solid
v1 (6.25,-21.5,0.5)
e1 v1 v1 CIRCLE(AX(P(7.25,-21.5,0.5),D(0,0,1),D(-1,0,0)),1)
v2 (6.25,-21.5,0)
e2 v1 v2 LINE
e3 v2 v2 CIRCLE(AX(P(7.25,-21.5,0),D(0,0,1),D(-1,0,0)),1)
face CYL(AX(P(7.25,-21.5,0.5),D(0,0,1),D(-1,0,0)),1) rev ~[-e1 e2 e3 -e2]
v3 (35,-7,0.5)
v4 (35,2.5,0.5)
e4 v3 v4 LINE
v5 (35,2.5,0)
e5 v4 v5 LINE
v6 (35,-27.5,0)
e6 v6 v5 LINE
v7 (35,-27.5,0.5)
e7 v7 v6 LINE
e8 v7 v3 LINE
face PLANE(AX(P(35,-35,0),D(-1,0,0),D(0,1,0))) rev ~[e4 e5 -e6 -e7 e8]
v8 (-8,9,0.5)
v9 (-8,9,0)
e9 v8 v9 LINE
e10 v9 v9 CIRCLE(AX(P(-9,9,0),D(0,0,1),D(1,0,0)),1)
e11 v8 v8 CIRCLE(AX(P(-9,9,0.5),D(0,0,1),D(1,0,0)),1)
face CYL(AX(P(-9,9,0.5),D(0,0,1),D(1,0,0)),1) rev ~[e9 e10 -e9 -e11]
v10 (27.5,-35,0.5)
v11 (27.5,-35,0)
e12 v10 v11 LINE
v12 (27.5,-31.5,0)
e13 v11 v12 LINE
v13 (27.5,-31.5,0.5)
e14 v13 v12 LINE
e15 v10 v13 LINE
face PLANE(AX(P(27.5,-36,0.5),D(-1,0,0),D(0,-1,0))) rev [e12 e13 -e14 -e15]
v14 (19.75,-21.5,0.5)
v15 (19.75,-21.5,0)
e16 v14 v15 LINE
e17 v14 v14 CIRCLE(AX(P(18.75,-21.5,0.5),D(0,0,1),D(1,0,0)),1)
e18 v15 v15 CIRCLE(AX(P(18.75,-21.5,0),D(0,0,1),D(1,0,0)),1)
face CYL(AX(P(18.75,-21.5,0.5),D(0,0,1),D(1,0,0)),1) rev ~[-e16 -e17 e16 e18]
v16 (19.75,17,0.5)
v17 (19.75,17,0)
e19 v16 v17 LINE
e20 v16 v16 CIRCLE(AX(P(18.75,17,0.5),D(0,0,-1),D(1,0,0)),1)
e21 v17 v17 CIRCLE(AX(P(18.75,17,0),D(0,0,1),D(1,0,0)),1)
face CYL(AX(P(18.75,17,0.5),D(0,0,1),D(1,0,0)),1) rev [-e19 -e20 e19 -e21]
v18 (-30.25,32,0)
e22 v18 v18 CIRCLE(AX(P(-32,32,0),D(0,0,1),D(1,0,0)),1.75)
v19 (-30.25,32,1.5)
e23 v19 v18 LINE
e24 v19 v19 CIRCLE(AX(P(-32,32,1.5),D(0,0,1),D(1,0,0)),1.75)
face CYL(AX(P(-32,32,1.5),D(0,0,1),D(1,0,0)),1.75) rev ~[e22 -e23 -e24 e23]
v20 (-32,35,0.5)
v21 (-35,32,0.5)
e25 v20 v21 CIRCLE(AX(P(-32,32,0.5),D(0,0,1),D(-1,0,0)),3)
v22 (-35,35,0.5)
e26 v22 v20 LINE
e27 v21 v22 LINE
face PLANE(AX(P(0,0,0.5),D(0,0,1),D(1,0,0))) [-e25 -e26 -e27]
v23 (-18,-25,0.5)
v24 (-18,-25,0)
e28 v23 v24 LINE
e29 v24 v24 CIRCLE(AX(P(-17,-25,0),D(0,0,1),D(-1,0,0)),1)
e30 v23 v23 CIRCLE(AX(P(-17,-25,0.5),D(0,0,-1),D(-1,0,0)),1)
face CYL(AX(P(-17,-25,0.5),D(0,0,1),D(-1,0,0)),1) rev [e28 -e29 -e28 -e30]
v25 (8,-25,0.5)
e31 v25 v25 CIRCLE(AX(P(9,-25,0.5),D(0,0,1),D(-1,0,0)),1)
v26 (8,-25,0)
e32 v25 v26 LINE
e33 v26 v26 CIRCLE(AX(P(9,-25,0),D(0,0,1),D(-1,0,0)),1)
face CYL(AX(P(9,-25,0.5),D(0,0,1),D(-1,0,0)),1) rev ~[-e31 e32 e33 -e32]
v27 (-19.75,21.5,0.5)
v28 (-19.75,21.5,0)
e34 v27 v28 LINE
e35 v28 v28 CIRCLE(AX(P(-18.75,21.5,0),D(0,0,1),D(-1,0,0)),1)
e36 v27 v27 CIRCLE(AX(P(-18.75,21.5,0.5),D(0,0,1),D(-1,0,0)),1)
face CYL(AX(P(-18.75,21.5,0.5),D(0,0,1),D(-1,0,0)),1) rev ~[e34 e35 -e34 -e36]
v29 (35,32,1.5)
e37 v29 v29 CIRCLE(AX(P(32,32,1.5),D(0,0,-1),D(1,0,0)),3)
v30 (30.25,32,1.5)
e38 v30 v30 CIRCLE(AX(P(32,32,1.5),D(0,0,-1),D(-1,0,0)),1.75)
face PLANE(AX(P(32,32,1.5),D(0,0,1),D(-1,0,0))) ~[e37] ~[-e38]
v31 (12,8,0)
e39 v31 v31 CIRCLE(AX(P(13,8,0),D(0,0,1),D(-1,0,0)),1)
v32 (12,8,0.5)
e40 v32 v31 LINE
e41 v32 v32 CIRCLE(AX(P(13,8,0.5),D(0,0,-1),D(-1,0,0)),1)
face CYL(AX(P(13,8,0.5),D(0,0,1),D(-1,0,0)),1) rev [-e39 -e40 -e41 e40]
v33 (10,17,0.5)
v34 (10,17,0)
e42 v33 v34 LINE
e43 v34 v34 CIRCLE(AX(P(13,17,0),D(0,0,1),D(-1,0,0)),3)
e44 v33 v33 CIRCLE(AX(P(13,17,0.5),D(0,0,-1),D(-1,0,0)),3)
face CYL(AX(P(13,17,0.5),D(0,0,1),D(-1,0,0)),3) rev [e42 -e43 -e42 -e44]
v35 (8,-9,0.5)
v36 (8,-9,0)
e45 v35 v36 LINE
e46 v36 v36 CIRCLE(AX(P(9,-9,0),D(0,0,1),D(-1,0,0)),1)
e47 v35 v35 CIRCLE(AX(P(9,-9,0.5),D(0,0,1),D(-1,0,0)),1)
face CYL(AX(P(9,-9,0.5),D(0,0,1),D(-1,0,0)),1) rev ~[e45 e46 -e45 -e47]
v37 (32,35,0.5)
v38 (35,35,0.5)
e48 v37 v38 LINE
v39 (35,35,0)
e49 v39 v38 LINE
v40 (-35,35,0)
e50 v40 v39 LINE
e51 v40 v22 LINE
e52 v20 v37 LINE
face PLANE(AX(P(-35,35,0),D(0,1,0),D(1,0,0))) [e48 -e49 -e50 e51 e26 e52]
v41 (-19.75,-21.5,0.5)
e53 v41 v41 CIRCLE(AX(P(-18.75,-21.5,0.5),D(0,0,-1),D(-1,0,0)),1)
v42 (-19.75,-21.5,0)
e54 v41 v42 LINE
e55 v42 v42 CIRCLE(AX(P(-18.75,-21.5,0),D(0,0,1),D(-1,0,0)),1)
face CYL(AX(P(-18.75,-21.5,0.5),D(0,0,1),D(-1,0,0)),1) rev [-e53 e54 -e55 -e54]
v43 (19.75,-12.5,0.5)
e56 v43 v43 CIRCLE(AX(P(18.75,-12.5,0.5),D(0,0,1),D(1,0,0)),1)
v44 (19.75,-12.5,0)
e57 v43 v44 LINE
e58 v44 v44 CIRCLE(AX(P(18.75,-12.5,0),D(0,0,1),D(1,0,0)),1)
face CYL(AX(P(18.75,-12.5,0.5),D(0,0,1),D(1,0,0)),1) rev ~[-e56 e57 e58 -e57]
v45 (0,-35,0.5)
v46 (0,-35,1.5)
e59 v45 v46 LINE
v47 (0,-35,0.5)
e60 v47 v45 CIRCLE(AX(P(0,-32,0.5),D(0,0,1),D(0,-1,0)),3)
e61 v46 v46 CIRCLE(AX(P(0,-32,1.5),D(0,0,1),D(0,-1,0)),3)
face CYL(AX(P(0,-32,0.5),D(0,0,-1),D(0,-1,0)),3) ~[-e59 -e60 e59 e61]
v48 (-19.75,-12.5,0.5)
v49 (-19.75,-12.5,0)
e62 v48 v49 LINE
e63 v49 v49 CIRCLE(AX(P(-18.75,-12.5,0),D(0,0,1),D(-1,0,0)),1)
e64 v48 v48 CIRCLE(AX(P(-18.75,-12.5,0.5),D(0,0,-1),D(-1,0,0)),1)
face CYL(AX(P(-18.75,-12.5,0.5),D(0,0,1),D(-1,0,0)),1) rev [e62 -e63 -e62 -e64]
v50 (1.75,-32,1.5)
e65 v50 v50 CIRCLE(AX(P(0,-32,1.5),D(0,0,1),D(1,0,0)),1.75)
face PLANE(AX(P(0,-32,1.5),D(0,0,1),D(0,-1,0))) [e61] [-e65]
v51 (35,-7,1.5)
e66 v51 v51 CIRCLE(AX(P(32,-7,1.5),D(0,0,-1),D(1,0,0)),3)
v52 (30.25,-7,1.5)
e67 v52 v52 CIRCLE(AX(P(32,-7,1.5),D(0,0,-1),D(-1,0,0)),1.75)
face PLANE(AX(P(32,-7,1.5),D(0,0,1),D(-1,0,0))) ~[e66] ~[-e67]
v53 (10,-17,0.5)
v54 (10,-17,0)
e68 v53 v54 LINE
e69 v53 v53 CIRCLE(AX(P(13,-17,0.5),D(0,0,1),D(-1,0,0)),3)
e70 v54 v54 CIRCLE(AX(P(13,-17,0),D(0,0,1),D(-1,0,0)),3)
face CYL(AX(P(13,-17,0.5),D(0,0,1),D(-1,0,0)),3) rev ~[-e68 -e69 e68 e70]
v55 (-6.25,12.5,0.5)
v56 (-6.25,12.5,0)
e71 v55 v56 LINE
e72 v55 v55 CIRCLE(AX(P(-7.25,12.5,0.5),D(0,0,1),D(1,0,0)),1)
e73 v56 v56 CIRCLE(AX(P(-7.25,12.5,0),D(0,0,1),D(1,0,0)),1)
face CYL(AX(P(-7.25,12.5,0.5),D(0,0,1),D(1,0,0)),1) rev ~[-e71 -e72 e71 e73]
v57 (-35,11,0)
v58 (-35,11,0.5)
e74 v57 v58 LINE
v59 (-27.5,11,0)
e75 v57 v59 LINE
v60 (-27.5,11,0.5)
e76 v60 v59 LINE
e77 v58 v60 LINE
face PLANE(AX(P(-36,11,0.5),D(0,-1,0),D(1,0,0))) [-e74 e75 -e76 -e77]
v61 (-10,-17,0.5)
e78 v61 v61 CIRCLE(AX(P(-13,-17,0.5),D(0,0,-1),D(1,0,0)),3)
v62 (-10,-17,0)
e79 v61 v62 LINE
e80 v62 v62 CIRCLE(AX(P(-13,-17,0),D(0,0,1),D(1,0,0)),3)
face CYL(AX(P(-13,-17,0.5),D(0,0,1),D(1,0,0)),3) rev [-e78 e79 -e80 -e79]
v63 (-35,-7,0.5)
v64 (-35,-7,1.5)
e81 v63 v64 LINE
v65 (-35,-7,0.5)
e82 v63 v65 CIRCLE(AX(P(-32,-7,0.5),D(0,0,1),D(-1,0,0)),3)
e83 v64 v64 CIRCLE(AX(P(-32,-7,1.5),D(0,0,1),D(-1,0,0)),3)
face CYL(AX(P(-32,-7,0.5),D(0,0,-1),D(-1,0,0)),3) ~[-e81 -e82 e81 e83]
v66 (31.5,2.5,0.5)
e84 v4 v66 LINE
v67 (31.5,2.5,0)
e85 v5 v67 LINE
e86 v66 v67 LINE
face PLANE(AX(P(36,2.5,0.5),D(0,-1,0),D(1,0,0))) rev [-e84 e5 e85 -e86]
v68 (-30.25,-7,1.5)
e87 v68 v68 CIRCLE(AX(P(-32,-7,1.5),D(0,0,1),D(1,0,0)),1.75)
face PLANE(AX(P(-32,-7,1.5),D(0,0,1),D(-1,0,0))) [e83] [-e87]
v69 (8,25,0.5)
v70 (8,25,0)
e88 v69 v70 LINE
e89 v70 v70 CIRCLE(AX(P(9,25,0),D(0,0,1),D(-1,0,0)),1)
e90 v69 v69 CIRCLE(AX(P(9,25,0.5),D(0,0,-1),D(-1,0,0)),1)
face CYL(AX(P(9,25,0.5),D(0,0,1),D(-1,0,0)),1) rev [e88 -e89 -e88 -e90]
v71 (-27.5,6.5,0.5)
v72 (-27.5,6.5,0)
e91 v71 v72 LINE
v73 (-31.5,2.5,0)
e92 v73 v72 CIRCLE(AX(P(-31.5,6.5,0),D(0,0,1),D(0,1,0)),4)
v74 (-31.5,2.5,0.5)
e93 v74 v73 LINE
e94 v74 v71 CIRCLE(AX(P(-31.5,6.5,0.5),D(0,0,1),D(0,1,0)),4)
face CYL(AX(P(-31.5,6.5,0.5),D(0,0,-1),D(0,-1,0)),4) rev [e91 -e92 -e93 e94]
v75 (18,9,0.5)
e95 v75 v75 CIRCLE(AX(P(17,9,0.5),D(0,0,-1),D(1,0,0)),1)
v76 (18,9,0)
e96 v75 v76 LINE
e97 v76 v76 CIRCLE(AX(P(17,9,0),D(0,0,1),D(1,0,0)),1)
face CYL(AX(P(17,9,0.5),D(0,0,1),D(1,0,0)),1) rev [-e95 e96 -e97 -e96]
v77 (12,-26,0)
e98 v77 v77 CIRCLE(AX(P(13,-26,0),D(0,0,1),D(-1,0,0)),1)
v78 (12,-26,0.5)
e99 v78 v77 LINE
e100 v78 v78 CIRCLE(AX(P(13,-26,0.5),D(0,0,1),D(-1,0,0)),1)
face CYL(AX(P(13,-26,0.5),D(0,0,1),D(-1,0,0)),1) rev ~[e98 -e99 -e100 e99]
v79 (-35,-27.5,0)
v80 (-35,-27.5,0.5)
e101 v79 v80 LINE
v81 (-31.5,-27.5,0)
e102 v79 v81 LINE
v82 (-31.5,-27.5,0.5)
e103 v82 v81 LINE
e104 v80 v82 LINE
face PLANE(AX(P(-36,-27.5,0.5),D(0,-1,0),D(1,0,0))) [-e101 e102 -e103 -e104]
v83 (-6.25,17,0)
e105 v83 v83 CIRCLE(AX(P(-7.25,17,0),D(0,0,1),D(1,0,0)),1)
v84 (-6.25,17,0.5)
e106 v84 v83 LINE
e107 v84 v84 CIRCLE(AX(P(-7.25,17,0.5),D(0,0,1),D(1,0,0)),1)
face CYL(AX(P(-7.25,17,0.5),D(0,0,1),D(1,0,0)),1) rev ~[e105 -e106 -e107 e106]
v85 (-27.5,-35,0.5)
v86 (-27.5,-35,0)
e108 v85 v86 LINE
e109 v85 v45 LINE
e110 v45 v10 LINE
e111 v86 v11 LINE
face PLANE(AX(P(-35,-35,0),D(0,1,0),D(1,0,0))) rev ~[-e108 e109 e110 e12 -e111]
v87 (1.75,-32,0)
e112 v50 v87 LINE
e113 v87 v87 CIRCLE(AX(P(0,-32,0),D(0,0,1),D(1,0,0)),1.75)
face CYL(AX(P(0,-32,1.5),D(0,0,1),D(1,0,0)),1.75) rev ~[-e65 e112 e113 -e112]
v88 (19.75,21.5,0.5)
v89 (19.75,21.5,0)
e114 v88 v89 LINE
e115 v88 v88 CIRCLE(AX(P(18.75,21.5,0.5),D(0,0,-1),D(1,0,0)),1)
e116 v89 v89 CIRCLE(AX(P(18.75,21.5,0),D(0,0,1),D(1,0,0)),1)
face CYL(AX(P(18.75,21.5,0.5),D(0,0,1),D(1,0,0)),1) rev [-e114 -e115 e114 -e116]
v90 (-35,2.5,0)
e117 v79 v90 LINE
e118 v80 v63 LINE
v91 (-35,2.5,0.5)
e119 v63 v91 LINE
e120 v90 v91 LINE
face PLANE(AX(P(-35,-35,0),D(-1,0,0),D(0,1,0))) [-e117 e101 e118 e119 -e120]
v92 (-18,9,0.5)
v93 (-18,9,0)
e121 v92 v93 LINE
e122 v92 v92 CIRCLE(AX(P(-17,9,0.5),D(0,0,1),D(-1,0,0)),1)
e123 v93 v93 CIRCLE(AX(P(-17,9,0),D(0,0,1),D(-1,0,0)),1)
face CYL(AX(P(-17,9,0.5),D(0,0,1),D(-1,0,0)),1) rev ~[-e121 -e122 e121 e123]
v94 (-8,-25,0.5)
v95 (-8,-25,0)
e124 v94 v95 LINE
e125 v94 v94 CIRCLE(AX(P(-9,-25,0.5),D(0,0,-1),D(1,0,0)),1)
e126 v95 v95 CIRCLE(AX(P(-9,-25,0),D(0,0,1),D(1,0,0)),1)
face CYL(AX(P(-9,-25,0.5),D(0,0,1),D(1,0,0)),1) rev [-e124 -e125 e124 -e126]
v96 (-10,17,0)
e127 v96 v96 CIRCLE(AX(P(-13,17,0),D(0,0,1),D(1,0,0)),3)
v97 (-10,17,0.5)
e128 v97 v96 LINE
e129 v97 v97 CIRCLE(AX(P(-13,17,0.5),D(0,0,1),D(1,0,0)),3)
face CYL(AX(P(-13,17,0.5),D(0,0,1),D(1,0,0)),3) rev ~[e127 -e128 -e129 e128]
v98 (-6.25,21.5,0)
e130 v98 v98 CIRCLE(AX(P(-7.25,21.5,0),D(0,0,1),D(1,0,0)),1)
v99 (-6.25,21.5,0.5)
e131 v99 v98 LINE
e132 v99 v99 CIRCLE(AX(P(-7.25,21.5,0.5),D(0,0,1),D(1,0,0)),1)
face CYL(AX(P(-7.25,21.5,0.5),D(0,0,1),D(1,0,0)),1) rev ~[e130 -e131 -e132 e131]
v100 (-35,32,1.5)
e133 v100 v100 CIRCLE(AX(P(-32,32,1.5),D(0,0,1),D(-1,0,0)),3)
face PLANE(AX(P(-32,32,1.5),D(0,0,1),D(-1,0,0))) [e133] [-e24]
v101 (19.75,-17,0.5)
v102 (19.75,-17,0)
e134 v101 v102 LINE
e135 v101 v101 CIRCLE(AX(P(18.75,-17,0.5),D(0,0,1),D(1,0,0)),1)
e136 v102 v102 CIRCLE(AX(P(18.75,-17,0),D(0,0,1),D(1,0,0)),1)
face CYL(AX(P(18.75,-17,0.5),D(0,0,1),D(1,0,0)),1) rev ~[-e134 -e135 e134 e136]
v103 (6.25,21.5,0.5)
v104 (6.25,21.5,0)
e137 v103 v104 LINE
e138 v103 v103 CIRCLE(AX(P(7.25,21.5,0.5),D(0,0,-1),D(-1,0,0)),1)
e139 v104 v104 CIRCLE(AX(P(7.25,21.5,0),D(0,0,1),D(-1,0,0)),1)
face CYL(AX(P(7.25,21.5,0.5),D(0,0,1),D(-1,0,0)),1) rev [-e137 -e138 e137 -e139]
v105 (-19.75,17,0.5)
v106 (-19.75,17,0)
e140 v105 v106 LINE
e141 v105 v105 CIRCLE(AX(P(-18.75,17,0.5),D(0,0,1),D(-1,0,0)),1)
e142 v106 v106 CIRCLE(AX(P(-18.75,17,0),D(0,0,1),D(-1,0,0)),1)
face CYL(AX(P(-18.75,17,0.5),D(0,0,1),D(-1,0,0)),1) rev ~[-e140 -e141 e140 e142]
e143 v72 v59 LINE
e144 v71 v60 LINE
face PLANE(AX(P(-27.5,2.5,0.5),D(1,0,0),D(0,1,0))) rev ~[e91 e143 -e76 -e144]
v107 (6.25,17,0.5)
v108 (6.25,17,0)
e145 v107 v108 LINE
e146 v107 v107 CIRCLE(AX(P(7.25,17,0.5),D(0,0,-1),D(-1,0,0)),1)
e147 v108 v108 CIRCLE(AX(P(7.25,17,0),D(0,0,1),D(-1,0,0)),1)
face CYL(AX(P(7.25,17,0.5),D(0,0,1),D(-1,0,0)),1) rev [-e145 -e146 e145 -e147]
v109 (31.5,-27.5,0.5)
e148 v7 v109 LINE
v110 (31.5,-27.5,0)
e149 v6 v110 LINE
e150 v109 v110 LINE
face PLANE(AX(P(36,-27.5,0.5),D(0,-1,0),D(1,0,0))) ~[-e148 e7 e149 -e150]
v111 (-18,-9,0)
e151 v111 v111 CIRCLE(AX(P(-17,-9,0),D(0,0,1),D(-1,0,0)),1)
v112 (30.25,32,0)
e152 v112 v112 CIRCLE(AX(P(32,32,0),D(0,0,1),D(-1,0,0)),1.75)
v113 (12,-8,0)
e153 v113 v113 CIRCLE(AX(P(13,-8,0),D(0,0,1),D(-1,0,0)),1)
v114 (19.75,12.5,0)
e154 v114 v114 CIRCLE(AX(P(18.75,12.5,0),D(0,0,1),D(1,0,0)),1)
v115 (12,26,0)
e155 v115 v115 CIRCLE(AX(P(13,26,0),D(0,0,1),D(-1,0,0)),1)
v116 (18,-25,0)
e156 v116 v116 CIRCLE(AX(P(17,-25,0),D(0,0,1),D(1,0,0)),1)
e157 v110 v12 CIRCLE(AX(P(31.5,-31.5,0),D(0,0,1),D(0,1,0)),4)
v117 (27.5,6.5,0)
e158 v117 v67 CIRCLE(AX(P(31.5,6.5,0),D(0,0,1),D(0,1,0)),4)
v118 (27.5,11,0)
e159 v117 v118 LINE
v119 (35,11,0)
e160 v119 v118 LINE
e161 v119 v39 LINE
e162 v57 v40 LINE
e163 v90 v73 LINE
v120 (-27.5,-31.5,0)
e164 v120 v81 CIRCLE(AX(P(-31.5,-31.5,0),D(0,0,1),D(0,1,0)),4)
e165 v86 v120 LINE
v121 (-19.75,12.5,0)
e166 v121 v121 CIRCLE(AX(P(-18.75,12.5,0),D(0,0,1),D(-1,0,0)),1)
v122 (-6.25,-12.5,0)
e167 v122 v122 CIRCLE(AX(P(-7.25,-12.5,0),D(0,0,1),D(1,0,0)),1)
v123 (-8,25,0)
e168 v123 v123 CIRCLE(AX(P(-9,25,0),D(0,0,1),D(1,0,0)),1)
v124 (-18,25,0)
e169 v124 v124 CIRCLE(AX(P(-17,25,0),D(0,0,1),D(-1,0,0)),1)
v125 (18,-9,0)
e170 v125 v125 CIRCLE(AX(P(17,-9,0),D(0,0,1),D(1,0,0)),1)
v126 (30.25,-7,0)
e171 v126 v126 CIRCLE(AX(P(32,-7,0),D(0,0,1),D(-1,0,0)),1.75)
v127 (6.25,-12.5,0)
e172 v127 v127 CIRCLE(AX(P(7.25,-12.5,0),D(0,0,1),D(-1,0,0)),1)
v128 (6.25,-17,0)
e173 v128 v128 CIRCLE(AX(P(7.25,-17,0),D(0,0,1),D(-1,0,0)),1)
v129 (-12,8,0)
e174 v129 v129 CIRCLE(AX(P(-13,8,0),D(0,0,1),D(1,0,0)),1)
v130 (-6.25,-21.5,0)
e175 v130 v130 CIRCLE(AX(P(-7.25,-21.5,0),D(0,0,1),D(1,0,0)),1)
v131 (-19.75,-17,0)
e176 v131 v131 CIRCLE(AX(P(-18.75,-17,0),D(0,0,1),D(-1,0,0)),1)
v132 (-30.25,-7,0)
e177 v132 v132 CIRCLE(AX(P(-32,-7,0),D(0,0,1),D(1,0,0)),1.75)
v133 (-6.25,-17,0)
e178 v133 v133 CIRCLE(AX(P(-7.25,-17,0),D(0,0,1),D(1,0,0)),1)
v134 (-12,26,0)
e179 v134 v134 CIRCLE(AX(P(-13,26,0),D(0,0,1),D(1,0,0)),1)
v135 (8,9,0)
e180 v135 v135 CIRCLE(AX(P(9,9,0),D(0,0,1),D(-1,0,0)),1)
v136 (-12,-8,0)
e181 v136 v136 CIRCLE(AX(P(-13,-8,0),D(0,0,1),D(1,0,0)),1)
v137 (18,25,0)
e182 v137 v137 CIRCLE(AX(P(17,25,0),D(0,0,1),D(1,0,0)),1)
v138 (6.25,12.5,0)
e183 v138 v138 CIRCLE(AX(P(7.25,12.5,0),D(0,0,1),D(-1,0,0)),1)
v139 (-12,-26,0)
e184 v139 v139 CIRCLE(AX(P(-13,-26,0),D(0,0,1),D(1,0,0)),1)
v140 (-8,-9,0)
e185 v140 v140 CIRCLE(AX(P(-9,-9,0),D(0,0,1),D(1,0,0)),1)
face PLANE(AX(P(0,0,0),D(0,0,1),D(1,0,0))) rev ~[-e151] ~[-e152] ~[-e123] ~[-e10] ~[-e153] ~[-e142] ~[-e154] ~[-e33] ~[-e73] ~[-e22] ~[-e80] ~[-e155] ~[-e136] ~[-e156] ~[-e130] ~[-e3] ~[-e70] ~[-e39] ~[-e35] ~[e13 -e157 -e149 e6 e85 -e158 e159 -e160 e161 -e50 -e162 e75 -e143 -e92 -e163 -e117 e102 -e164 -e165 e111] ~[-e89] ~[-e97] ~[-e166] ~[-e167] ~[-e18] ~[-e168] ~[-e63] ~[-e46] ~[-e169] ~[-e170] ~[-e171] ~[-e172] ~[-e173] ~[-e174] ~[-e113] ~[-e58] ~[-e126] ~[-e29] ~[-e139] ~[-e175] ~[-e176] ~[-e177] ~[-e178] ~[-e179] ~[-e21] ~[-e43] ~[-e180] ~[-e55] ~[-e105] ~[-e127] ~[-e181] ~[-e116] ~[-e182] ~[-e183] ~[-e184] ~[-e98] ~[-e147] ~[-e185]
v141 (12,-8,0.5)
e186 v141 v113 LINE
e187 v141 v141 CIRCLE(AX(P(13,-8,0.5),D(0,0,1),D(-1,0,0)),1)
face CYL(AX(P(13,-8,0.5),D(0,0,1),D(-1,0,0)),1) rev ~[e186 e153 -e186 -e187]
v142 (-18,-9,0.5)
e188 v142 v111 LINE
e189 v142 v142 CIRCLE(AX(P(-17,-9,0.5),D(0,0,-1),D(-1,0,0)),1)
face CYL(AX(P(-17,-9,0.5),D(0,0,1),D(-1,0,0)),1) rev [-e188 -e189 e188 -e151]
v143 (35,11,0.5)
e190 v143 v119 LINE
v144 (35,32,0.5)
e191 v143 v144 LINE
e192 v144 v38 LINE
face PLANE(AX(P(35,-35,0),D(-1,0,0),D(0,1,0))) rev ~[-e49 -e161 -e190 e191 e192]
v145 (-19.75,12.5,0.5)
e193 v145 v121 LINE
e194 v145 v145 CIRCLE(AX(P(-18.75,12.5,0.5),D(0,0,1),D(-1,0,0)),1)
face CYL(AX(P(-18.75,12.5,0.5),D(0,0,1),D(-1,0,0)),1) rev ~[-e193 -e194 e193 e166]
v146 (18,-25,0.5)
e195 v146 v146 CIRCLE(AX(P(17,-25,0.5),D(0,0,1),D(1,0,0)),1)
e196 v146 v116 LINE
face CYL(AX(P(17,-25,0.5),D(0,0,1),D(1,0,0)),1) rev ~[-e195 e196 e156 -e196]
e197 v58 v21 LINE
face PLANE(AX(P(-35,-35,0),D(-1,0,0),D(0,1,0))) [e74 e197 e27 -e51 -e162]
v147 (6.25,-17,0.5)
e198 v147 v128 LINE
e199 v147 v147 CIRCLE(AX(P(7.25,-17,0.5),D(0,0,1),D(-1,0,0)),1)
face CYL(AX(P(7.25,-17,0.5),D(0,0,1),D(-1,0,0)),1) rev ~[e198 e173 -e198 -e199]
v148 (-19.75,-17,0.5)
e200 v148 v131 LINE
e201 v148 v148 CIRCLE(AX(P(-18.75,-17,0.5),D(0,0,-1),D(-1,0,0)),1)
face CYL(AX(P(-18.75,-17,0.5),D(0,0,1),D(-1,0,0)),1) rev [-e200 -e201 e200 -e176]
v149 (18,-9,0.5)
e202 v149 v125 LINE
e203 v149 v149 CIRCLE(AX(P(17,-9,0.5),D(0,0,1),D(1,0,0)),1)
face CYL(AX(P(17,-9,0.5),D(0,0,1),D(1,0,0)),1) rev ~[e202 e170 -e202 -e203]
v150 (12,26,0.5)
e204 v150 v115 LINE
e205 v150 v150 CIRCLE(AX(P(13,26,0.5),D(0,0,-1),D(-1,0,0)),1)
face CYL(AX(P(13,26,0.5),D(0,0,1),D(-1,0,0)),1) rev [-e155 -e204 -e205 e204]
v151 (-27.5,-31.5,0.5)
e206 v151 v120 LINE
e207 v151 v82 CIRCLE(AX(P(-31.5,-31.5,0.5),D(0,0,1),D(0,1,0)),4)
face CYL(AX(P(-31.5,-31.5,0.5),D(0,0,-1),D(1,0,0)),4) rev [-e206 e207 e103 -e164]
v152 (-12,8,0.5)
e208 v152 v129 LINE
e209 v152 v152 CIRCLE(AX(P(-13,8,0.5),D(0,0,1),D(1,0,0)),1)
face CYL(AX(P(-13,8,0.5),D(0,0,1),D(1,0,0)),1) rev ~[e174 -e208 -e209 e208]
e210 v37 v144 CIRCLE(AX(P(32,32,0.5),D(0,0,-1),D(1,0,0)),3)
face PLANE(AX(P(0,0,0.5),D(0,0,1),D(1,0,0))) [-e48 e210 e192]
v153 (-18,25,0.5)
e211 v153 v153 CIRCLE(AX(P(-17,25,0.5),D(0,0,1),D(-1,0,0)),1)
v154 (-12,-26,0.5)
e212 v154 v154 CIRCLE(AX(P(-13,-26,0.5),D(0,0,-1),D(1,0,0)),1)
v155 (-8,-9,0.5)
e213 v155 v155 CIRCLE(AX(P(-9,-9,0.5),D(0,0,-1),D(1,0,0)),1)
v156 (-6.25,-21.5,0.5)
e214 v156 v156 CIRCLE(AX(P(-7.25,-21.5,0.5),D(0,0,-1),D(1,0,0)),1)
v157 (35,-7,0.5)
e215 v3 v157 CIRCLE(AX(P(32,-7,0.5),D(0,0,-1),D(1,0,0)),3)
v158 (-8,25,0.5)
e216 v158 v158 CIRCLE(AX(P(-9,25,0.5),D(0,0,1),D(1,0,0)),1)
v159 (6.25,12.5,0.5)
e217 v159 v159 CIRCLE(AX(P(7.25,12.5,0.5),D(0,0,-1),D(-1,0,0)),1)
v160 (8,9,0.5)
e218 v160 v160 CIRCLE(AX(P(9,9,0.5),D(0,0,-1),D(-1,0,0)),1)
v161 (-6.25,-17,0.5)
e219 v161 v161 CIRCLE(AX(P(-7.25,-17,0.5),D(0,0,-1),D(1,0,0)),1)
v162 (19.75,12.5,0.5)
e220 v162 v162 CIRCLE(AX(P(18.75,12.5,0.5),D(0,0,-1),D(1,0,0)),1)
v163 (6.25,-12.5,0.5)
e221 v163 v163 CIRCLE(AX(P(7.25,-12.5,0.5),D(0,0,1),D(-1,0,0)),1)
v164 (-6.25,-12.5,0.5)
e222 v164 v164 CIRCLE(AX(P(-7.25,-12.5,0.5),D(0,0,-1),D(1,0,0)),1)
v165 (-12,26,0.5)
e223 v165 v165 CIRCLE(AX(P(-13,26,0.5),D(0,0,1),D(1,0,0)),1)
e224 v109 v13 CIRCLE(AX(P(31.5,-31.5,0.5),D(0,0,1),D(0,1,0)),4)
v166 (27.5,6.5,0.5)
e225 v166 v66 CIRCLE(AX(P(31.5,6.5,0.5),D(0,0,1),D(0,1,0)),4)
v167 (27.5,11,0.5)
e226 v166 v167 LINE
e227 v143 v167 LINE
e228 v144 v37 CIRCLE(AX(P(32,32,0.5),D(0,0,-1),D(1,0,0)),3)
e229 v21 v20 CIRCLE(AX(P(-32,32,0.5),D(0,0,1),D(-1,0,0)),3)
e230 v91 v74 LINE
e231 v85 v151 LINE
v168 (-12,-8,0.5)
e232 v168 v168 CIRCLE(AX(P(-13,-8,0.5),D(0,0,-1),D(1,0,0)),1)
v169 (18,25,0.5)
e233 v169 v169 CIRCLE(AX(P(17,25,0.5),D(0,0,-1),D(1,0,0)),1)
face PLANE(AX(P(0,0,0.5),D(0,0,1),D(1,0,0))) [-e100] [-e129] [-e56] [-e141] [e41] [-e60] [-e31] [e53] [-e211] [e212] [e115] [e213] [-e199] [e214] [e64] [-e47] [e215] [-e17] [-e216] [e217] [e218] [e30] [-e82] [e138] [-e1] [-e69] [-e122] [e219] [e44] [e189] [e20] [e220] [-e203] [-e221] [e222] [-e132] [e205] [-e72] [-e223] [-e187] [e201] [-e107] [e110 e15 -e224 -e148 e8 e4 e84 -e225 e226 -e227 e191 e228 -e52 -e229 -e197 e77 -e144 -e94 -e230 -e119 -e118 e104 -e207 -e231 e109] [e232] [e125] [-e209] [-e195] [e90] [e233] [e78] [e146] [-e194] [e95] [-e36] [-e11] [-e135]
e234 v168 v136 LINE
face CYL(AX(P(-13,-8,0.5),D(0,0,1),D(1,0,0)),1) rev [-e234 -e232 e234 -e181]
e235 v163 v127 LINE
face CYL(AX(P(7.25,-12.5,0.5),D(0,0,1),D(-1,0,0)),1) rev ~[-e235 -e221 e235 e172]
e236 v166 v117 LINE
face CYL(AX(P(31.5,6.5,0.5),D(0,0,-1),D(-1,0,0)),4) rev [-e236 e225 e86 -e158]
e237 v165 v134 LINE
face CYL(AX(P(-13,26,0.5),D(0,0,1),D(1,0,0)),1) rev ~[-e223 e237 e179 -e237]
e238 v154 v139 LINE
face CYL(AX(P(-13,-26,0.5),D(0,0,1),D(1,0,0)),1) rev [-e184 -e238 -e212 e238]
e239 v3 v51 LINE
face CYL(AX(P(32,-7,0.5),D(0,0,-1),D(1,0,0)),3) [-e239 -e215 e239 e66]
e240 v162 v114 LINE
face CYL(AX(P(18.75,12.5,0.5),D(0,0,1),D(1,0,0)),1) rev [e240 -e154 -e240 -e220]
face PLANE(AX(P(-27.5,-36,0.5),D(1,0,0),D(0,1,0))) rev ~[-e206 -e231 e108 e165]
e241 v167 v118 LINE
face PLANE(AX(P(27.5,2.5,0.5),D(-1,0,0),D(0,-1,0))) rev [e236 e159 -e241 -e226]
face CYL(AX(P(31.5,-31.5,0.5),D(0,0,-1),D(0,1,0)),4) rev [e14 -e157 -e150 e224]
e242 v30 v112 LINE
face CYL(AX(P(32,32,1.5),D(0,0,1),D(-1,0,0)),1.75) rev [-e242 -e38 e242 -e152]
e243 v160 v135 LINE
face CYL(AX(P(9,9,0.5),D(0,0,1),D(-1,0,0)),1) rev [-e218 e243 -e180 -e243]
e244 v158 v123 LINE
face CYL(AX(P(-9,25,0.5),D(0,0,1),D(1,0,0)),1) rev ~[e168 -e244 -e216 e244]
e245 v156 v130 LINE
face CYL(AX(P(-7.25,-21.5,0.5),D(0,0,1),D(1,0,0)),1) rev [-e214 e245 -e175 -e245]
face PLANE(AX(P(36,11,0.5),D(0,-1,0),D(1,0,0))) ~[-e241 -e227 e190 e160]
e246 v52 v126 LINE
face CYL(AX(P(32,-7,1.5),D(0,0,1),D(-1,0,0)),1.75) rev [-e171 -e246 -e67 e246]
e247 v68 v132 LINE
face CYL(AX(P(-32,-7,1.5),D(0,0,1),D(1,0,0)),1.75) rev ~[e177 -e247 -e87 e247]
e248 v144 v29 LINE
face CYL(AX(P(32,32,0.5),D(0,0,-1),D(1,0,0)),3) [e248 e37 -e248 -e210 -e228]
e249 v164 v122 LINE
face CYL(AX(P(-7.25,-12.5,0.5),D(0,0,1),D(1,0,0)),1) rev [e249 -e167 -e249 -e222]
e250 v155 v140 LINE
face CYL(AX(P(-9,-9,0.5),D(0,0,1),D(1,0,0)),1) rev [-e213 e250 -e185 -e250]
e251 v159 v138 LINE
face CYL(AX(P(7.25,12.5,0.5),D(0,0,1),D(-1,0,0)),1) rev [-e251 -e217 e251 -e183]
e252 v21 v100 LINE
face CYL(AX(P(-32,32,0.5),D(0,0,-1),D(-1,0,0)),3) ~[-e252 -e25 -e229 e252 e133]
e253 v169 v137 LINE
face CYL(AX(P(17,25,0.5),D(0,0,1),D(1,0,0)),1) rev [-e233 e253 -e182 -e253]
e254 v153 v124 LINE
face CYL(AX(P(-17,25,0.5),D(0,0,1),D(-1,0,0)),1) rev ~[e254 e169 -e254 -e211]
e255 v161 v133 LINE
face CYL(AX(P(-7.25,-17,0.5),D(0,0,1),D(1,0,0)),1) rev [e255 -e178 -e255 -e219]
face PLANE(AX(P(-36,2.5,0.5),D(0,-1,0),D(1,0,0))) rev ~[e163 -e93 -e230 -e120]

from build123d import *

# Parameters (mm, degrees)
SKETCH1_W               = 70
SKETCH1_H               = 70
BOSS_EXTRUDE1_DEPTH     = 0.5
SKETCH2_R               = 3
CUT_EXTRUDE1_DEPTH      = 50.5
SKETCH3_R               = 1
CUT_EXTRUDE2_DEPTH      = 50.5
MIRROR2_COPY_1_SKETCH_R = 3
MIRROR2_COPY_1_DEPTH    = 50.5
MIRROR2_COPY_2_SKETCH_R = 1
MIRROR2_COPY_2_DEPTH    = 50.5
SKETCH4_R               = 3
BOSS_EXTRUDE2_DEPTH     = 1
SKETCH5_R               = 1.75
CUT_EXTRUDE3_DEPTH      = 50.520197899
SKETCH6_W               = 8.5
SKETCH6_H               = 8.5
CUT_EXTRUDE4_DEPTH      = 50.507575178
FILLET1_R               = 4
SKETCH7_R               = 3
BOSS_EXTRUDE3_DEPTH     = 1
SKETCH8_R               = 1.75
CUT_EXTRUDE5_DEPTH      = 50.520197899
FILLET1_OF_MIRROR3_R    = 4


with BuildPart() as part:
    # Sketch1 → Boss-Extrude1 (new body)
    with BuildSketch(Plane.XY):
        Rectangle(SKETCH1_W, SKETCH1_H)
    extrude(amount=BOSS_EXTRUDE1_DEPTH)

    # Sketch2 → Cut-Extrude1 (cut, through all)
    with BuildSketch(Plane.XY.offset(0.5)):
        with Locations((-13, 17)):
            Circle(SKETCH2_R)
    cut_extrude1 = extrude(amount=-CUT_EXTRUDE1_DEPTH, mode=Mode.SUBTRACT)

    # Sketch3 → Cut-Extrude2 (cut, through all)
    with BuildSketch(Plane.XY.offset(0.5)):
        with Locations((-7.25, 21.5)):
            Circle(SKETCH3_R)
        with Locations((-7.25, 17)):
            Circle(SKETCH3_R)
        with Locations((-7.25, 12.5)):
            Circle(SKETCH3_R)
        with Locations((-9, 9)):
            Circle(SKETCH3_R)
        with Locations((-9, 25)):
            Circle(SKETCH3_R)
        with Locations((-13, 26)):
            Circle(SKETCH3_R)
        with Locations((-13, 8)):
            Circle(SKETCH3_R)
        with Locations(Location((-17, 9, 0), (0, 0, 180))):
            Circle(SKETCH3_R)
        with Locations(Location((-18.75, 12.5, 0), (0, 0, 180))):
            Circle(SKETCH3_R)
        with Locations(Location((-18.75, 17, 0), (0, 0, 180))):
            Circle(SKETCH3_R)
        with Locations(Location((-18.75, 21.5, 0), (0, 0, 180))):
            Circle(SKETCH3_R)
        with Locations(Location((-17, 25, 0), (0, 0, 180))):
            Circle(SKETCH3_R)
    cut_extrude2 = extrude(amount=-CUT_EXTRUDE2_DEPTH, mode=Mode.SUBTRACT)

    # Mirror1: Cut-Extrude1, Cut-Extrude2 across plane
    add(cut_extrude1.mirror(Plane(origin=(0, 0, 0), x_dir=(0, 0, 1), z_dir=(1, 0, 0))), mode=Mode.SUBTRACT)
    add(cut_extrude2.mirror(Plane(origin=(0, 0, 0), x_dir=(0, 0, 1), z_dir=(1, 0, 0))), mode=Mode.SUBTRACT)

    # Mirror2: Cut-Extrude1, Cut-Extrude2 across plane
    add(cut_extrude1.mirror(Plane.ZX), mode=Mode.SUBTRACT)
    add(cut_extrude2.mirror(Plane.ZX), mode=Mode.SUBTRACT)

    # Mirror2 copy 1 sketch → Mirror2 copy 1 (cut, through all)
    with BuildSketch(Plane(origin=(0, 0, 0.5), x_dir=(-1, 0, 0), z_dir=(0, 0, 1))):
        with Locations((-13, 17)):
            Circle(MIRROR2_COPY_1_SKETCH_R)
    extrude(amount=-MIRROR2_COPY_1_DEPTH, mode=Mode.SUBTRACT)

    # Mirror2 copy 2 sketch → Mirror2 copy 2 (cut, through all)
    with BuildSketch(Plane(origin=(0, 0, 0.5), x_dir=(-1, 0, 0), z_dir=(0, 0, 1))):
        with Locations((-7.25, 21.5)):
            Circle(MIRROR2_COPY_2_SKETCH_R)
        with Locations((-7.25, 17)):
            Circle(MIRROR2_COPY_2_SKETCH_R)
        with Locations((-7.25, 12.5)):
            Circle(MIRROR2_COPY_2_SKETCH_R)
        with Locations((-9, 9)):
            Circle(MIRROR2_COPY_2_SKETCH_R)
        with Locations((-9, 25)):
            Circle(MIRROR2_COPY_2_SKETCH_R)
        with Locations((-13, 26)):
            Circle(MIRROR2_COPY_2_SKETCH_R)
        with Locations((-13, 8)):
            Circle(MIRROR2_COPY_2_SKETCH_R)
        with Locations(Location((-17, 9, 0), (0, 0, 180))):
            Circle(MIRROR2_COPY_2_SKETCH_R)
        with Locations(Location((-18.75, 12.5, 0), (0, 0, 180))):
            Circle(MIRROR2_COPY_2_SKETCH_R)
        with Locations(Location((-18.75, 17, 0), (0, 0, 180))):
            Circle(MIRROR2_COPY_2_SKETCH_R)
        with Locations(Location((-18.75, 21.5, 0), (0, 0, 180))):
            Circle(MIRROR2_COPY_2_SKETCH_R)
        with Locations(Location((-17, 25, 0), (0, 0, 180))):
            Circle(MIRROR2_COPY_2_SKETCH_R)
    extrude(amount=-MIRROR2_COPY_2_DEPTH, mode=Mode.SUBTRACT)

    # Sketch4 → Boss-Extrude2 (add)
    with BuildSketch(Plane.XY.offset(0.5)):
        with Locations(Location((-32, 32, 0), (0, 0, 180))):
            Circle(SKETCH4_R)
        with Locations(Location((-32, -7, 0), (0, 0, 180))):
            Circle(SKETCH4_R)
    boss_extrude2 = extrude(amount=BOSS_EXTRUDE2_DEPTH)

    # Sketch5 → Cut-Extrude3 (cut, through all)
    with BuildSketch(Plane.XY.offset(1.5)):
        with Locations((-32, 32)):
            Circle(SKETCH5_R)
        with Locations((-32, -7)):
            Circle(SKETCH5_R)
    cut_extrude3 = extrude(amount=-CUT_EXTRUDE3_DEPTH, mode=Mode.SUBTRACT)

    # Sketch6 → Cut-Extrude4 (cut, through all)
    with BuildSketch(Plane.XY.offset(0.5)):
        with Locations((-31.75, -31.75)):
            Rectangle(SKETCH6_W, SKETCH6_H)
        with Locations((-31.75, 6.75)):
            Rectangle(SKETCH6_W, SKETCH6_H)
    cut_extrude4 = extrude(amount=-CUT_EXTRUDE4_DEPTH, mode=Mode.SUBTRACT)

    # Fillet1
    fillet1_edges = [part.edges().sort_by_distance(p)[0] for p in [
        (-27.5, -27.5, 0.25),
        (-27.5, 2.5, 0.25),
    ]]
    fillet(fillet1_edges, radius=FILLET1_R)

    # Sketch7 → Boss-Extrude3 (add)
    with BuildSketch(Plane.XY.offset(0.5)):
        with Locations(Location((0, -32, 0), (0, 0, 270))):
            Circle(SKETCH7_R)
    extrude(amount=BOSS_EXTRUDE3_DEPTH)

    # Sketch8 → Cut-Extrude5 (cut, through all)
    with BuildSketch(Plane.XY.offset(1.5)):
        with Locations((0, -32)):
            Circle(SKETCH8_R)
    extrude(amount=-CUT_EXTRUDE5_DEPTH, mode=Mode.SUBTRACT)

    # Mirror3: Boss-Extrude2, Cut-Extrude3, Cut-Extrude4 across plane
    add(boss_extrude2.mirror(Plane(origin=(0, 0, 0), x_dir=(0, 0, 1), z_dir=(1, 0, 0))))
    add(cut_extrude3.mirror(Plane(origin=(0, 0, 0), x_dir=(0, 0, 1), z_dir=(1, 0, 0))), mode=Mode.SUBTRACT)
    add(cut_extrude4.mirror(Plane(origin=(0, 0, 0), x_dir=(0, 0, 1), z_dir=(1, 0, 0))), mode=Mode.SUBTRACT)

    # Fillet1 of Mirror3
    fillet1_of_mirror3_edges = [part.edges().sort_by_distance(p)[0] for p in [
        (27.5, -27.5, 0.25),
        (27.5, 2.5, 0.25),
    ]]
    fillet(fillet1_of_mirror3_edges, radius=FILLET1_OF_MIRROR3_R)


solid = part.part
